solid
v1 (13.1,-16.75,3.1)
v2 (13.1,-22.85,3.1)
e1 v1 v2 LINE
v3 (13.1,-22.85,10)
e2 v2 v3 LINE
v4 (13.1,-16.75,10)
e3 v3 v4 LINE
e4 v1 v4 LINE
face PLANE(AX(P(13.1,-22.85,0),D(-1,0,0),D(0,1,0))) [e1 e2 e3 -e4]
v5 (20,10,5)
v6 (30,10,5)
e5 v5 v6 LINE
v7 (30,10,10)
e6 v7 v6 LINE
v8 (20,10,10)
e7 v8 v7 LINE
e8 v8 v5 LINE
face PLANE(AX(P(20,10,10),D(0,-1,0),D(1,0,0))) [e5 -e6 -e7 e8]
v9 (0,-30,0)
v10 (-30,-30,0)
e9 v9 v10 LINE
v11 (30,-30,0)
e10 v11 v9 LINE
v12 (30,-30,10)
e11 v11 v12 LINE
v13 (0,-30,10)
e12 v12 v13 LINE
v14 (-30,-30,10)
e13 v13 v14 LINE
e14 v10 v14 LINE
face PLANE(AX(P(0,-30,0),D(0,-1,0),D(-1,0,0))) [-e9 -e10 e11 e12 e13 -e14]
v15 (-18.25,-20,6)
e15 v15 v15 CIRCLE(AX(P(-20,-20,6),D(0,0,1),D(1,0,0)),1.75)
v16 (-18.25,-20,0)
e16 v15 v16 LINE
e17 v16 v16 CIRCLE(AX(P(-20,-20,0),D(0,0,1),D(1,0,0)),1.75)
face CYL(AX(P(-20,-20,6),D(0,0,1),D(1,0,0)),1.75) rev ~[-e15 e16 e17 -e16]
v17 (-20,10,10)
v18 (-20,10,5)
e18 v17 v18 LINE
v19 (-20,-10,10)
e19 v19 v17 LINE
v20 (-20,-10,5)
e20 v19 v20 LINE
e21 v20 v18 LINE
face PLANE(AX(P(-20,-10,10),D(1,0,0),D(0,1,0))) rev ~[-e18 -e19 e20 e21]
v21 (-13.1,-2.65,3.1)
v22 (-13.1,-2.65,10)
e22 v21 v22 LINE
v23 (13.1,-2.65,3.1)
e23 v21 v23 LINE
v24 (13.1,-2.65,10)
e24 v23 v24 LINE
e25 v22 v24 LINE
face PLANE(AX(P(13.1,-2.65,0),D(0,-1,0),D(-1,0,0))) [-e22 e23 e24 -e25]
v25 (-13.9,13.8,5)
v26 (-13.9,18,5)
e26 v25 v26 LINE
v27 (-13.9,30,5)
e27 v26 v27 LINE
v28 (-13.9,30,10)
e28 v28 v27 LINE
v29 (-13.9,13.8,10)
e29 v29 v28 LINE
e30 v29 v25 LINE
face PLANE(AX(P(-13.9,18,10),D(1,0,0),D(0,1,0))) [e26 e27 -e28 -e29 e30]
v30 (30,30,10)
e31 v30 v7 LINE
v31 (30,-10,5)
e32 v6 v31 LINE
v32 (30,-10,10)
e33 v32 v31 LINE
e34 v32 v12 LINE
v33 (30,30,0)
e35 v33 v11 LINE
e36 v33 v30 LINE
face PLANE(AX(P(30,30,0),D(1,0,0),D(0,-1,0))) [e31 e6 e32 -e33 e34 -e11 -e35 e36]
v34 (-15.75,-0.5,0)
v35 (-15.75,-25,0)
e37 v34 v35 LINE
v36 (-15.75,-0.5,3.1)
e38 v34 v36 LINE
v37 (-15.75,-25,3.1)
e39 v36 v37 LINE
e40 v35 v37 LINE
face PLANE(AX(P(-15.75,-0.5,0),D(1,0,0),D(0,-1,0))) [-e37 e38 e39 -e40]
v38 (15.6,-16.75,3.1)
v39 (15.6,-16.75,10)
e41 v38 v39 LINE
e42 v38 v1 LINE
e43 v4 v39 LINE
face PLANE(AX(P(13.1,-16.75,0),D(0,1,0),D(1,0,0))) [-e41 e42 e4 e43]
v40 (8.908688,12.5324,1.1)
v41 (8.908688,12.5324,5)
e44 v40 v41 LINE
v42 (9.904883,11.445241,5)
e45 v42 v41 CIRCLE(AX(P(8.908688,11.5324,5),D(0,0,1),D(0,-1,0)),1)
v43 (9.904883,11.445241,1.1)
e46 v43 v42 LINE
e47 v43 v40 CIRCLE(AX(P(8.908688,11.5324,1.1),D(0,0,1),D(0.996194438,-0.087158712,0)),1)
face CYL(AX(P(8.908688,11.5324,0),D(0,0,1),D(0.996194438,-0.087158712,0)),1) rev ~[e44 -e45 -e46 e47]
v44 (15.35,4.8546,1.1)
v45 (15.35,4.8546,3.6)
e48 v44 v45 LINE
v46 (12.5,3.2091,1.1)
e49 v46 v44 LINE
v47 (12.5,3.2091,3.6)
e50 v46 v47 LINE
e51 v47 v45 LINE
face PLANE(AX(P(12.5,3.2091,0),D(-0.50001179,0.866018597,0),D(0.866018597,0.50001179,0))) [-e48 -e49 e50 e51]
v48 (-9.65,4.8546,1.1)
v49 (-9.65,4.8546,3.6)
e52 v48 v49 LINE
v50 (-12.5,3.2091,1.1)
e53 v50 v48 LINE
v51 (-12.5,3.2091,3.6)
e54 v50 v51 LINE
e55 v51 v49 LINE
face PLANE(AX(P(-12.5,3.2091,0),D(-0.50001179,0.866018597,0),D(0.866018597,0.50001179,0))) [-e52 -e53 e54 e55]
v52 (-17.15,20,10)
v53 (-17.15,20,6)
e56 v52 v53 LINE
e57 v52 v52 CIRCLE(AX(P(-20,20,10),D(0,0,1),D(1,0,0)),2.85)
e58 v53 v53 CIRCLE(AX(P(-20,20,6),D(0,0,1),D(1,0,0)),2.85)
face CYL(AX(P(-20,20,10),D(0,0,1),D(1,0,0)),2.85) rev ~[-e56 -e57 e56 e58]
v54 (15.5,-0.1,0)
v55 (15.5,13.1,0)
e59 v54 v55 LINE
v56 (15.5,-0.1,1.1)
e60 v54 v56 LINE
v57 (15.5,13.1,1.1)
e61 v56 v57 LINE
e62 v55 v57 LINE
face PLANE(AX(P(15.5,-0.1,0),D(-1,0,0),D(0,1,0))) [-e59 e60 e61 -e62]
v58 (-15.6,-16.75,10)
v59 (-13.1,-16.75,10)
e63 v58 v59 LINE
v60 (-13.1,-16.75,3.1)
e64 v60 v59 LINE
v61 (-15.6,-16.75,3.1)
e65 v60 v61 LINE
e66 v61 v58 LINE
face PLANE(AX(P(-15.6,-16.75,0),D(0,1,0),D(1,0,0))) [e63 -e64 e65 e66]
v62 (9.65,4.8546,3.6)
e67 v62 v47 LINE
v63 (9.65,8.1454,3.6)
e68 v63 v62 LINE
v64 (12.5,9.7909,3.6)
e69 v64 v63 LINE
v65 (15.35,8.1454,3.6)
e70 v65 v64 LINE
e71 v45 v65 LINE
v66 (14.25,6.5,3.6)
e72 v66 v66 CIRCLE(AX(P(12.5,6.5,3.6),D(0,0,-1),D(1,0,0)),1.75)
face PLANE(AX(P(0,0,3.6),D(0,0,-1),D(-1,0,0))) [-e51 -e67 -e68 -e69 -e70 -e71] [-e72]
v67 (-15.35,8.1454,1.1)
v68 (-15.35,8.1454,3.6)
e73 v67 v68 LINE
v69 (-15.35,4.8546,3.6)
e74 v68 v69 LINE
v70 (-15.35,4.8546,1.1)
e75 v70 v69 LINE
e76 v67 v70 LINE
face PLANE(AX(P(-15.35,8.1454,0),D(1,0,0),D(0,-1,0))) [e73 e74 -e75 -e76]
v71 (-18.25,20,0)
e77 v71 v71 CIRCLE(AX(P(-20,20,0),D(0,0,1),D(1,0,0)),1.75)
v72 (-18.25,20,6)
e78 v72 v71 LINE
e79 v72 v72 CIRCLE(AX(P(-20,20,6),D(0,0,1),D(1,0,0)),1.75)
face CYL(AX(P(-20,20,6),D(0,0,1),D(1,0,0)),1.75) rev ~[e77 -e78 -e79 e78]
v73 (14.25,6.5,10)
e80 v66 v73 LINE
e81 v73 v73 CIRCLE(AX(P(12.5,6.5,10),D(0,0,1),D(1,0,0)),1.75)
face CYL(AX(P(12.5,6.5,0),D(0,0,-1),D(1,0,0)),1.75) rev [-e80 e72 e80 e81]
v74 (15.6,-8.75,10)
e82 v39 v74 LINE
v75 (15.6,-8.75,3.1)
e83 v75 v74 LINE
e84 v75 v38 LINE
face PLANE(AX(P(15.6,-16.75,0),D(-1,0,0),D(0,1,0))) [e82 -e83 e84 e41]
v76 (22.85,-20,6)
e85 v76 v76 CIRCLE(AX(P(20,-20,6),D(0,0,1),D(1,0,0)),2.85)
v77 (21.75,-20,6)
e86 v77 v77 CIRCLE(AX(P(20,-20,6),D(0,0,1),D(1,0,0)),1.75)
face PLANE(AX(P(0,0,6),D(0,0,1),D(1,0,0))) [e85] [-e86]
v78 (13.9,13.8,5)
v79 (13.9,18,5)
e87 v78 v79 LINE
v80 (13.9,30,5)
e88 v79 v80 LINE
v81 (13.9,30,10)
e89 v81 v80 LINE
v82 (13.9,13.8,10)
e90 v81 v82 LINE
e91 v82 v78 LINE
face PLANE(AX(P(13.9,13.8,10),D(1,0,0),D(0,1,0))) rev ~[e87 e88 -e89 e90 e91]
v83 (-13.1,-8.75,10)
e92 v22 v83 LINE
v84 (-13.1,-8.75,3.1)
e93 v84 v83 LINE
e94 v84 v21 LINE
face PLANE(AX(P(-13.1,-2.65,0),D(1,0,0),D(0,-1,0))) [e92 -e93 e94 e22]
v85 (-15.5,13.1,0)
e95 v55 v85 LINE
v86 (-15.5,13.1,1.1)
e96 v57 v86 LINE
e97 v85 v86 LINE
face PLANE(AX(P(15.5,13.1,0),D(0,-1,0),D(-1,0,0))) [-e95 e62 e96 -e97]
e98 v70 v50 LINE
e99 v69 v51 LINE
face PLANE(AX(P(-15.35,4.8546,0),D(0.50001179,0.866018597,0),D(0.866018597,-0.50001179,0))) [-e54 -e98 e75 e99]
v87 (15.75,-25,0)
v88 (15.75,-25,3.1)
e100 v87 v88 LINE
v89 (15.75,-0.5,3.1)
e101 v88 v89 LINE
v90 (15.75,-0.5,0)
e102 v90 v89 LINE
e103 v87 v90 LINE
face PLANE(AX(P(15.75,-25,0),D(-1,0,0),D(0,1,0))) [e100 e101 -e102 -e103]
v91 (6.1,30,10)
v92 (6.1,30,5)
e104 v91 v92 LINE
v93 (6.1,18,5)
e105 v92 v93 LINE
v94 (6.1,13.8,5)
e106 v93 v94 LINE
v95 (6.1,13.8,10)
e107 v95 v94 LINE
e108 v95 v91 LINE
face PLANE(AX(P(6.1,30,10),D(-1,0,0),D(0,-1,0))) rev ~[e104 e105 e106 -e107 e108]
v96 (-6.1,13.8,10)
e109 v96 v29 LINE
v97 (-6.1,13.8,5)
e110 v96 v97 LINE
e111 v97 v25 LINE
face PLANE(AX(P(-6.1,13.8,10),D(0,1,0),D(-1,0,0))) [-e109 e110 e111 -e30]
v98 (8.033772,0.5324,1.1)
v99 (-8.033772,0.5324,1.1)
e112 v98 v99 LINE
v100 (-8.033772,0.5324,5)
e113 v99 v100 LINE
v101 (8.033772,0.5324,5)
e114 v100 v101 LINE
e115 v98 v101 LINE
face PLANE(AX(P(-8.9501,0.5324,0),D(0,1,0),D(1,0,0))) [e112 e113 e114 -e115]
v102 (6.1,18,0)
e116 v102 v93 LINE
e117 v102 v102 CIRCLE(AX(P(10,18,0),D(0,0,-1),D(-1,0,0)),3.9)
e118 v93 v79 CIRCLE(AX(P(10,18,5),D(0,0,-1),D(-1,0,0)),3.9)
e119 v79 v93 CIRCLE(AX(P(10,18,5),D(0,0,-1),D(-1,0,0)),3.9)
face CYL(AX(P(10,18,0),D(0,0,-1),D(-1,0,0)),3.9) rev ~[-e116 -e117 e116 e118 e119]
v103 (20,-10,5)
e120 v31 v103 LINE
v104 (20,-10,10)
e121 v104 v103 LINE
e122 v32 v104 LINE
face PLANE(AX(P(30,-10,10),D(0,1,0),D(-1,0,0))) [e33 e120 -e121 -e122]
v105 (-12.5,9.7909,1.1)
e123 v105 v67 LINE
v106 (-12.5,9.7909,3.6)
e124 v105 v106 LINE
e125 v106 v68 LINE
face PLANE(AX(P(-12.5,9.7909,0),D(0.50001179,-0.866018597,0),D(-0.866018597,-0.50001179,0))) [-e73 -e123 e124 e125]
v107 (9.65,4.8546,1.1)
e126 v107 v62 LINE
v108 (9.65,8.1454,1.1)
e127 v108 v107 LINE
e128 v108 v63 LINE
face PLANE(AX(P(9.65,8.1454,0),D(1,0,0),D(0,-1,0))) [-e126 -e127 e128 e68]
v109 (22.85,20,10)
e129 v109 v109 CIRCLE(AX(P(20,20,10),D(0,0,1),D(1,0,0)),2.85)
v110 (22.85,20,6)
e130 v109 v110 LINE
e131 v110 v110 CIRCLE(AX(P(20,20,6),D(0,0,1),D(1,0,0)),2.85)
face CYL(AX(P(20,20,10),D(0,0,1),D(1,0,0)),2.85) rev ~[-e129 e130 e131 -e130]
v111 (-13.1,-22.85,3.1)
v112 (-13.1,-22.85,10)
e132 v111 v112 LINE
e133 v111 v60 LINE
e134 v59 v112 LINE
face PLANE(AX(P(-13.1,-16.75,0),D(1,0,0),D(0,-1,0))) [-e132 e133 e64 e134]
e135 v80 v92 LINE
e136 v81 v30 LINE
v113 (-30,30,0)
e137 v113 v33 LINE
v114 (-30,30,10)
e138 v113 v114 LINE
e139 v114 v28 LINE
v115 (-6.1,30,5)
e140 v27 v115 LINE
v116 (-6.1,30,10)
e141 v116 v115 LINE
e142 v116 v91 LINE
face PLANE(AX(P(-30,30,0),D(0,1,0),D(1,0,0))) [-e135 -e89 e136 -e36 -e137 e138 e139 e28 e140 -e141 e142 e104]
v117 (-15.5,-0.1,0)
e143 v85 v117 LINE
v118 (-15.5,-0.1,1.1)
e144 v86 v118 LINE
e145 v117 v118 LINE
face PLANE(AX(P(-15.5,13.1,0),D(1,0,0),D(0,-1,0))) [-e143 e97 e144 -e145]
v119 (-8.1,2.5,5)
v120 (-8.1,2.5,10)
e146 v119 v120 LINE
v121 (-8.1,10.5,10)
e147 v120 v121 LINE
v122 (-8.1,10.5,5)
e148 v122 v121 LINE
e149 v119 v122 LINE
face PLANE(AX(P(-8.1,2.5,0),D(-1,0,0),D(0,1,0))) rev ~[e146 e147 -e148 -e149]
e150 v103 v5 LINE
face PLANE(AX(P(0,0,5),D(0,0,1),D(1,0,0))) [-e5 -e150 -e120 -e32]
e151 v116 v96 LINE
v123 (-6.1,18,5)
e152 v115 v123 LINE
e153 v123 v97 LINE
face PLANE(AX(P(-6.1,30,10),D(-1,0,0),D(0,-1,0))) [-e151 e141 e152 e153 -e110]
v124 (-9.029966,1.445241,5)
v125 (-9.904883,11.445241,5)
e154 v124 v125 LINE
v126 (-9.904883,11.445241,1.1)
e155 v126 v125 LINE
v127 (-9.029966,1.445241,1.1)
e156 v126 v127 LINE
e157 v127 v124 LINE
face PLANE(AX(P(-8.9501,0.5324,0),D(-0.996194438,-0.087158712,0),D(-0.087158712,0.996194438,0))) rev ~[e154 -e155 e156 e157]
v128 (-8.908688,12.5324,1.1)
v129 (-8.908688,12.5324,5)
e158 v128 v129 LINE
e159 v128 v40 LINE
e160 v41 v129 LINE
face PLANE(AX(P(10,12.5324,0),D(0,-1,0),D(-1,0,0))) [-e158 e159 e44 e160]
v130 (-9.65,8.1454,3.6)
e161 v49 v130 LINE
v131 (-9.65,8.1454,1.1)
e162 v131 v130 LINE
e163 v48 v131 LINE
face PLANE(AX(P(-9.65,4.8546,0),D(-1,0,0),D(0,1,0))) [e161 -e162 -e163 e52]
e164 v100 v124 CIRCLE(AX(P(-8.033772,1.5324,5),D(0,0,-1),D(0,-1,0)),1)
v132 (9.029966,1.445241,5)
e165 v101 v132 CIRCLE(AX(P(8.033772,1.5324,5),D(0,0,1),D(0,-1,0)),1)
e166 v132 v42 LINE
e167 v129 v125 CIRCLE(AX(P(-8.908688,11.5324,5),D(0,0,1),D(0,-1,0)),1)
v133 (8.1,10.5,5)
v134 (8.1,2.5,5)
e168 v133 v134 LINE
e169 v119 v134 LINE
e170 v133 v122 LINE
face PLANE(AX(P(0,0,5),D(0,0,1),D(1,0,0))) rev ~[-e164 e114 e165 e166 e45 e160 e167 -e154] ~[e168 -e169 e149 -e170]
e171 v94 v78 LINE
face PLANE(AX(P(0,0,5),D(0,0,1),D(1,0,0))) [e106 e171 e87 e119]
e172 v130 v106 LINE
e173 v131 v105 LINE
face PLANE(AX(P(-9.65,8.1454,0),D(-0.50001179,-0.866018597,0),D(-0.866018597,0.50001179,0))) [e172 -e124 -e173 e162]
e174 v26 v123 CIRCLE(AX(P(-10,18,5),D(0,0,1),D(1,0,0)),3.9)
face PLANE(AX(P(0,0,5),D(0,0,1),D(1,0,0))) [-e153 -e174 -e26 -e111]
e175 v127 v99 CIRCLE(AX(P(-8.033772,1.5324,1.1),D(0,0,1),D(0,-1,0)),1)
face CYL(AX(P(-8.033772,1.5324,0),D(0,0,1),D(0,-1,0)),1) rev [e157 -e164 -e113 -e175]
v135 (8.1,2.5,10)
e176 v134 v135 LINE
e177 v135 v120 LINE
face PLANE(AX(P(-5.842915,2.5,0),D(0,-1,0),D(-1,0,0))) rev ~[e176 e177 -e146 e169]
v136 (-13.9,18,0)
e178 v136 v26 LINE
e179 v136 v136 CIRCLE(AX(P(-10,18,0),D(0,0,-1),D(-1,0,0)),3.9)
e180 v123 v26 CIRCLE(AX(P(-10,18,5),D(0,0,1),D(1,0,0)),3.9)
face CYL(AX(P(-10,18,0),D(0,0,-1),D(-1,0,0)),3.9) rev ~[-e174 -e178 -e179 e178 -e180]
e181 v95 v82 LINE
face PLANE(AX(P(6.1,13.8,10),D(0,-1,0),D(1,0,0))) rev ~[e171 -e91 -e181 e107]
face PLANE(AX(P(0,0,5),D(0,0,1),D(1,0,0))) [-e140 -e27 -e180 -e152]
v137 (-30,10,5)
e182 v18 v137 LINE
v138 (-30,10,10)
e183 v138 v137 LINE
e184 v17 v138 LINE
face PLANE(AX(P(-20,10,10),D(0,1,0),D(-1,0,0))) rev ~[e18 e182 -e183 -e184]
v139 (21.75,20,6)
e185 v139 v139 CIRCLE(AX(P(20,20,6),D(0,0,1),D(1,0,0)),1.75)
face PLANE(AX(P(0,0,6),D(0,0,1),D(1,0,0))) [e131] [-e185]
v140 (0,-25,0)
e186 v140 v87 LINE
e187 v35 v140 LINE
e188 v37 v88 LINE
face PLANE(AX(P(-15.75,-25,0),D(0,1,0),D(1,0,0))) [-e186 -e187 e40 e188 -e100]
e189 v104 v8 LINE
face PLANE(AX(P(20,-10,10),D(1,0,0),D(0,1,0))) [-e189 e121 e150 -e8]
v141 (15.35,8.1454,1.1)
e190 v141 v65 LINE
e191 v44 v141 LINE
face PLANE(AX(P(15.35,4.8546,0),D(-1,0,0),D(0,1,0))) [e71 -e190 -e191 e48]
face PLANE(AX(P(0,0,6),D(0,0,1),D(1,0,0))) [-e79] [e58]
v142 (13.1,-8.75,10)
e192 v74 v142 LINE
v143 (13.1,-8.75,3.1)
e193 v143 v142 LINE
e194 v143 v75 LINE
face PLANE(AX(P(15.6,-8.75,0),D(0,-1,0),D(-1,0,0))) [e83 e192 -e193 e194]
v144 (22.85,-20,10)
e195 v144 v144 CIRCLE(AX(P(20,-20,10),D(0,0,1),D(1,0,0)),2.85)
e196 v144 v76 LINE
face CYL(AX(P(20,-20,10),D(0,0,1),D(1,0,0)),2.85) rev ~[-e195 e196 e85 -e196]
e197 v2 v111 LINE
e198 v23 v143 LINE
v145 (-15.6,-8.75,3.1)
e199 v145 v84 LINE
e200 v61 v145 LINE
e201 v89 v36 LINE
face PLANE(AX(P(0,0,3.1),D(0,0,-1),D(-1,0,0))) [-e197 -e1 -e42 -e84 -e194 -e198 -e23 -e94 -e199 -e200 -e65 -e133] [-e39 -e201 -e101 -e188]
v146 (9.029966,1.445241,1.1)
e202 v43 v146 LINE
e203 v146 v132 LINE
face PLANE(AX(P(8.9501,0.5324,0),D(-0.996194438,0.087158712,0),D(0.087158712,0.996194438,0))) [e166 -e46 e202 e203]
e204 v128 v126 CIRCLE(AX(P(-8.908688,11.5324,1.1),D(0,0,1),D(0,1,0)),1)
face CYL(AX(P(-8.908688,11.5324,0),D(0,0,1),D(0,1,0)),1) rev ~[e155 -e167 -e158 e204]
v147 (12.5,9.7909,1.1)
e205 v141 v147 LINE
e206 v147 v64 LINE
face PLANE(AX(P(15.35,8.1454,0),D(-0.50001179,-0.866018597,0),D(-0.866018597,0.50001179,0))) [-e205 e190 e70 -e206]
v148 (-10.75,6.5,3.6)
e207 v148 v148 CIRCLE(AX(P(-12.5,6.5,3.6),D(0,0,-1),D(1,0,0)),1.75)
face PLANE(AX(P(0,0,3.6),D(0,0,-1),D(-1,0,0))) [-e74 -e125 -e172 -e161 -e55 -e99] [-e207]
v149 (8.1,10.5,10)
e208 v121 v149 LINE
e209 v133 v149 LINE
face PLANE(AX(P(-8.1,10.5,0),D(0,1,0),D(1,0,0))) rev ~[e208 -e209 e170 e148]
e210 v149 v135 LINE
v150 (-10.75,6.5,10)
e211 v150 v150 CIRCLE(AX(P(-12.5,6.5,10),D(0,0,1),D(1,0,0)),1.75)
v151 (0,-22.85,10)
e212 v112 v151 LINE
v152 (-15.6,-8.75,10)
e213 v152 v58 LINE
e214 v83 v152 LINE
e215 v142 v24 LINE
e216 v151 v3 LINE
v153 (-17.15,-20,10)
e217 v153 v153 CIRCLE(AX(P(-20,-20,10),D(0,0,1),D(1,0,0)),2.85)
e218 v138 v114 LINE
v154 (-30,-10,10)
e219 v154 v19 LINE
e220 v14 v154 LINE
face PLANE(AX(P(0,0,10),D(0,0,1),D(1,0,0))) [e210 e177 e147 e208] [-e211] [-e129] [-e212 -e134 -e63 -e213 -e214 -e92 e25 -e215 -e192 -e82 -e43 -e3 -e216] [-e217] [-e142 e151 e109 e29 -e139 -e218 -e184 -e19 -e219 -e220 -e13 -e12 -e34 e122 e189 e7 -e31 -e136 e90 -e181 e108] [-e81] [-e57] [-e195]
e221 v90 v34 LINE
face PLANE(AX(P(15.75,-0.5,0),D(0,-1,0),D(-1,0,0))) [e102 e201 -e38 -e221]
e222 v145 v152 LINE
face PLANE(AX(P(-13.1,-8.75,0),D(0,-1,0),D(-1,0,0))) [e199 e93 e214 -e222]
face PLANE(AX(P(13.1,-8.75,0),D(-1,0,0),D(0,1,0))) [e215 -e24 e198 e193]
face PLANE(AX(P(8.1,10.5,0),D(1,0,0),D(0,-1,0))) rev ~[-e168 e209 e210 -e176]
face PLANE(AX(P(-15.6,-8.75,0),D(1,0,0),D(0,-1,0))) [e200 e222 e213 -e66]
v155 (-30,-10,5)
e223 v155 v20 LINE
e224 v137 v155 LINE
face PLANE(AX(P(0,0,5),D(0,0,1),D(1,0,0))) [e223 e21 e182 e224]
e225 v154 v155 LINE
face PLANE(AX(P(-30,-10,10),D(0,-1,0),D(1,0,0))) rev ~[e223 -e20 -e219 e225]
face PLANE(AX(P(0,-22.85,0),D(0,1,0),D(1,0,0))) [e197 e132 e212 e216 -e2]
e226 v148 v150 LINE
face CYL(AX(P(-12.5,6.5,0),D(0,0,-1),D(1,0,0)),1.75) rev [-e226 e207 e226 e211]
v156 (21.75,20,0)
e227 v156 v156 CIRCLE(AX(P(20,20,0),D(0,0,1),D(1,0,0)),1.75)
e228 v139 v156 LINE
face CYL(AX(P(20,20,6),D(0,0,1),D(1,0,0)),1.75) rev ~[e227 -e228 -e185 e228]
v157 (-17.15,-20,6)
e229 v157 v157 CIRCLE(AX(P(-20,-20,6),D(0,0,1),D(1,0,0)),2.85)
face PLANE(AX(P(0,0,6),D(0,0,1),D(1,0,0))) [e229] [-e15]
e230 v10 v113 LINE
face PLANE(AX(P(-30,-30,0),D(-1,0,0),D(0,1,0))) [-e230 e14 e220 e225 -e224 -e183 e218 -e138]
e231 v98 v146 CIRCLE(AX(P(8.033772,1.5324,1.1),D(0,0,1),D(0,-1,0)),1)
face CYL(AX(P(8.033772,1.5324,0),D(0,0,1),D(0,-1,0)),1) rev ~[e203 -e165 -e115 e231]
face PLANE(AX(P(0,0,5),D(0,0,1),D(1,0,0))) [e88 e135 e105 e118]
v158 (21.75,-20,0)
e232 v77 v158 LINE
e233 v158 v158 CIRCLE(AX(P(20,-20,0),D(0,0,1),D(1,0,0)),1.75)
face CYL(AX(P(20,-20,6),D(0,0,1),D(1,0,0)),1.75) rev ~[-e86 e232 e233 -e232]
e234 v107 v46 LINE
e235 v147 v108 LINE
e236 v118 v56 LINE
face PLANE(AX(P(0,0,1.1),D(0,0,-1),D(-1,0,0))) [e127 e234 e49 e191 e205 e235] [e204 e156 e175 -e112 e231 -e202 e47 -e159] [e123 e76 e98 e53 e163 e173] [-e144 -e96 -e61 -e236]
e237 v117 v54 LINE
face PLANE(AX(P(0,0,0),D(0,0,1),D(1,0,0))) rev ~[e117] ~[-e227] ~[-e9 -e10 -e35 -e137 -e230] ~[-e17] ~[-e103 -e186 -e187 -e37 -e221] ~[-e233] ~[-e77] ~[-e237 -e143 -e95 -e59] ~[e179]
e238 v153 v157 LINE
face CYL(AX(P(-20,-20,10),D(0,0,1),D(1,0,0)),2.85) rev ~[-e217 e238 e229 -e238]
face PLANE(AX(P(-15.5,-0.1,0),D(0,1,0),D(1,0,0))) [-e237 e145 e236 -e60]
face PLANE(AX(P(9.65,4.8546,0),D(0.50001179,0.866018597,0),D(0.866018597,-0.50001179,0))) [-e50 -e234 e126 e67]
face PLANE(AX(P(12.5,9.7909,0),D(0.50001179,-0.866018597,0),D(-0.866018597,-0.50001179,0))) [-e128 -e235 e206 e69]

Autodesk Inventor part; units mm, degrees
ref_plane "YZ Plane" through (0, 0, 0) normal (1, 0, 0) x (0, 1, 0)
ref_plane "XZ Plane" through (0, 0, 0) normal (0, 1, 0) x (-1, 0, 0)
ref_plane "XY Plane" through (0, 0, 0) normal (0, 0, 1) x (1, 0, 0)
sketch "Sketch1" plane through (0, 0, 0) normal (0, 0, 1) x (1, 0, 0)
  line L0 (-30, 30) -> (30, 30)
  line L1 (30, 30) -> (30, -30)
  line L2 (30, -30) -> (-30, -30)
  line L3 (-30, -30) -> (-30, 30)
  line L4 (-30, 30) -> (30, -30) construction
  line L5 (30, 30) -> (-30, -30) construction
  line L6 (0, 0) -> (0, -32.9158)
  circle A0 centre (-12.5, 6.5) radius 1.75
  circle A1 centre (12.5, 6.5) radius 1.75
  line L7 (-8.1, 10.5) -> (8.1, 10.5)
  line L8 (8.1, 10.5) -> (8.1, 2.5)
  line L9 (8.1, 2.5) -> (-8.1, 2.5)
  line L10 (-8.1, 2.5) -> (-8.1, 10.5)
  line L11 (-8.1, 10.5) -> (8.1, 2.5) construction
  line L12 (8.1, 10.5) -> (-8.1, 2.5) construction
  line L13 (13.1, -2.65) -> (-13.1, -2.65)
  line L14 (-13.1, -2.65) -> (-13.1, -22.85)
  line L15 (-13.1, -22.85) -> (13.1, -22.85)
  line L16 (13.1, -22.85) -> (13.1, -2.65)
  line L17 (13.1, -2.65) -> (-13.1, -22.85) construction
  line L18 (-13.1, -2.65) -> (13.1, -22.85) construction
  line L19 (8.9501, 0.5324) -> (10, 12.5324)
  line L20 (-8.9501, 0.5324) -> (-10, 12.5324)
  line L21 (10, 12.5324) -> (-10, 12.5324)
  line L22 (-8.9501, 0.5324) -> (8.9501, 0.5324)
  line L23 (10, 12.5324) -> (-8.9501, 0.5324)
  line L24 (-10, 12.5324) -> (8.9501, 0.5324)
  line L25 (13.1, -16.75) -> (15.6, -16.75)
  line L26 (15.6, -16.75) -> (15.6, -8.75)
  line L27 (15.6, -8.75) -> (13.1, -8.75)
  line L28 (13.1, -8.75) -> (13.1, -16.75)
  line L29 (-13.1, -8.75) -> (-15.6, -8.75)
  line L30 (-15.6, -8.75) -> (-15.6, -16.75)
  line L31 (-15.6, -16.75) -> (-13.1, -16.75)
  line L32 (-13.1, -16.75) -> (-13.1, -8.75)
  line L33 (0, -12.75) -> (7.7881, -12.75)
  point P0 (0, 6.5)
  point P1 (0, 6.2)
  dimension "d0" = 60
  dimension "d1" = 60
  dimension "d10" = 3.5
  dimension "d11" = 3.5
  dimension "d12" = 25
  dimension "d15" = 16.2
  dimension "d16" = 8
  dimension "d21" = 26.2
  dimension "d22" = 20.2
  dimension "d32" = 17.25
  dimension "d33" = 19.25
  dimension "d61" = 5
  dimension "d62" = 20
  dimension "d63" = 12
  dimension "d67" = 0.3
  dimension "d68" = 2.5
  dimension "d69" = 8
extrude "Extrusion1" add sketch "Sketch1" along normal blind 10 contours L0 L1 L2 L3 | L10 L9 L23 L20 L24 L7 | L24 L21 L23 L7 | L23 L19 L24 L9 L8 L7 | L9 L24 L22 L23
extrude "Extrusion10" cut sketch "Sketch1" along normal blind 5 contours L10 L9 L23 L20 L24 L7 | L24 L21 L23 L7 | L23 L19 L24 L9 L8 L7 | L9 L24 L22 L23
fillet "Fillet1" radius 1 4 edges at (10, 12.5324, 2.5) (-10, 12.5324, 2.5) (-8.9501, 0.5324, 2.5) (8.9501, 0.5324, 2.5)
sketch "Sketch2" plane through (0, 0, 0) normal (0, 0, -1) x (-1, 0, 0)
  line L0 (-15.75, -0.5) -> (15.75, -0.5)
  line L1 (15.75, -0.5) -> (15.75, -25)
  line L2 (15.75, -25) -> (-15.75, -25)
  line L3 (-15.75, -25) -> (-15.75, -0.5)
  line L4 (-15.75, -0.5) -> (15.75, -25) construction
  line L5 (15.75, -0.5) -> (-15.75, -25) construction
  line L6 (13.1, -22.85) -> (13.1, -2.65) projected
  point P0 (0, 0)
  point P1 (0, -12.75)
  point P2 (-15.75, -12.75)
  point P3 (13.1, -12.75)
  dimension "d17" = 31.5
  dimension "d18" = 24.5
extrude "Extrusion2" cut sketch "Sketch2" against normal blind 3.1
sketch "Sketch3" plane through (0, 0, 0) normal (0, 0, -1) x (-1, 0, 0)
  line L0 (-15.5, 13.1) -> (15.5, 13.1)
  line L1 (15.5, 13.1) -> (15.5, -0.1)
  line L2 (15.5, -0.1) -> (-15.5, -0.1)
  line L3 (-15.5, -0.1) -> (-15.5, 13.1)
  line L4 (-15.5, 13.1) -> (15.5, -0.1) construction
  line L5 (15.5, 13.1) -> (-15.5, -0.1) construction
  circle A0 centre (-12.5, 6.5) radius 1.75 projected
  point P0 (0, 0)
  point P1 (0, 6.5)
  dimension "d23" = 31
  dimension "d24" = 13.2
extrude "Extrusion3" cut sketch "Sketch3" against normal blind 1.1 contours L0 L1 L2 L3 | A0
sketch "Sketch4" plane through (0, 0, 0) normal (0, 0, -1) x (-1, 0, 0)
  circle A0 centre (-12.5, 6.5) radius 1.75 projected
  line L0 (-9.65, 8.1454) -> (-9.65, 4.8546)
  line L1 (-9.65, 4.8546) -> (-12.5, 3.2091)
  line L2 (-12.5, 3.2091) -> (-15.35, 4.8546)
  line L3 (-15.35, 4.8546) -> (-15.35, 8.1454)
  line L4 (-15.35, 8.1454) -> (-12.5, 9.7909)
  line L5 (-12.5, 9.7909) -> (-9.65, 8.1454)
  circle A1 centre (12.5, 6.5) radius 1.75 projected
  line L6 (12.5, 9.7909) -> (15.35, 8.1454)
  line L7 (15.35, 8.1454) -> (15.35, 4.8546)
  line L8 (15.35, 4.8546) -> (12.5, 3.2091)
  line L9 (12.5, 3.2091) -> (9.65, 4.8546)
  line L10 (9.65, 4.8546) -> (9.65, 8.1454)
  line L11 (9.65, 8.1454) -> (12.5, 9.7909)
  point P0 (0, 0)
  point P1 (-9.65, 6.5)
  point P2 (-15.35, 6.5)
  dimension "d27" = 5.7
  dimension "d30" = 5.7
extrude "Extrusion4" cut sketch "Sketch4" against normal blind 3.6 contours A0 | L0 L1 L2 L3 L4 L5 | A1 | L6 L7 L8 L9 L10 L11
sketch "Sketch5" plane through (0, 0, 10) normal (0, 0, 1) x (1, 0, 0)
  circle A0 centre (-20, 20) radius 2.85
  line L0 (0, 0) -> (0, 27.5529)
  line L1 (0, 0) -> (35.0302, 0)
  circle A1 centre (20, 20) radius 2.85
  circle A2 centre (-20, -20) radius 2.85
  circle A3 centre (20, -20) radius 2.85
  dimension "d34" = 5.7
  dimension "d35" = 40
  dimension "d36" = 40
extrude "Extrusion5" cut sketch "Sketch5" against normal blind 4
sketch "Sketch6" plane through (0, 0, 0) normal (0, 0, -1) x (-1, 0, 0)
  circle A0 centre (-10, 18) radius 3.9
  circle A1 centre (10, 18) radius 3.9
  line L0 (30, -30) -> (-30, -30) projected
  line L1 (0, 0) -> (0, 19.7)
  dimension "d39" = 7.8
  dimension "d40" = 7.8
  dimension "d41" = 48
  dimension "d42" = 20
extrude "Extrusion6" cut sketch "Sketch6" against normal through all
sketch "Sketch8" plane through (0, 0, 10) normal (0, 0, 1) x (1, 0, 0)
  line L0 (-13.9, 30) -> (-6.1, 30)
  line L1 (-6.1, 30) -> (-6.1, 13.8)
  line L2 (-6.1, 13.8) -> (-13.9, 13.8)
  line L3 (-13.9, 13.8) -> (-13.9, 30)
  line L4 (0, 0) -> (0, 35.6896)
  line L5 (13.9, 30) -> (6.1, 30)
  line L6 (6.1, 30) -> (6.1, 13.8)
  line L7 (6.1, 13.8) -> (13.9, 13.8)
  line L8 (13.9, 13.8) -> (13.9, 30)
  circle A0 centre (-10, 18) radius 3.9 projected
  line L9 (-10, 18) -> (-10, 21.5524)
  line L10 (30, 30) -> (-30, 30) projected
  dimension "d46" = 7.8
  dimension "d48" = 4.2
extrude "Extrusion7" cut sketch "Sketch8" against normal blind 5 contours L5 L8 L7 L6 | L0 L1 A0 L3 | A0 L1 L2 L3
sketch "Sketch9" plane through (-20, 20, 6) normal (0, 0, 1) x (1, 0, 0)
  circle A0 centre (0, 0) radius 1.75
  circle A1 centre (40, 0) radius 2.85 projected
  circle A2 centre (40, 0) radius 1.75
  circle A3 centre (0, -40) radius 2.85 projected
  circle A4 centre (0, -40) radius 1.75
  circle A5 centre (40, -40) radius 2.85 projected
  circle A6 centre (40, -40) radius 1.75
  point P0 (20, -20)
  dimension "d51" = 3.5
  dimension "d52" = 3.5
  dimension "d53" = 3.5
  dimension "d54" = 3.5
extrude "Extrusion8" cut sketch "Sketch9" against normal through all contours A0 | A2 | A4 | A6
sketch "Sketch10" plane through (0, 0, 10) normal (0, 0, 1) x (1, 0, 0)
  line L0 (-30, 30) -> (-30, -30) projected
  line L1 (-20, 10) -> (-30, 10)
  line L2 (-30, 10) -> (-30, -10)
  line L3 (-30, -10) -> (-20, -10)
  line L4 (-20, -10) -> (-20, 10)
  line L5 (-20, 10) -> (-30, -10) construction
  line L6 (-30, 10) -> (-20, -10) construction
  line L7 (0, 0) -> (0, 15.7555)
  line L8 (20, 10) -> (30, 10)
  line L9 (30, 10) -> (30, -10)
  line L10 (30, -10) -> (20, -10)
  line L11 (20, -10) -> (20, 10)
  line L12 (20, 10) -> (30, -10) construction
  line L13 (30, 10) -> (20, -10) construction
  point P0 (-25, 0)
  point P1 (25, 0)
  dimension "d57" = 20
  dimension "d58" = 10
extrude "Extrusion9" cut sketch "Sketch10" against normal blind 5
equation "\"d10\" = d2"
equation "\"d11\" = d2"
equation "\"d30\" = d27"
equation "\"d39\" = d40"
equation "\"d52\" = d51"
equation "\"d53\" = d51"
equation "\"d54\" = d51"
equation "\"d2\" = 3.5"
properties part number "power_signal_socket_fixed"
